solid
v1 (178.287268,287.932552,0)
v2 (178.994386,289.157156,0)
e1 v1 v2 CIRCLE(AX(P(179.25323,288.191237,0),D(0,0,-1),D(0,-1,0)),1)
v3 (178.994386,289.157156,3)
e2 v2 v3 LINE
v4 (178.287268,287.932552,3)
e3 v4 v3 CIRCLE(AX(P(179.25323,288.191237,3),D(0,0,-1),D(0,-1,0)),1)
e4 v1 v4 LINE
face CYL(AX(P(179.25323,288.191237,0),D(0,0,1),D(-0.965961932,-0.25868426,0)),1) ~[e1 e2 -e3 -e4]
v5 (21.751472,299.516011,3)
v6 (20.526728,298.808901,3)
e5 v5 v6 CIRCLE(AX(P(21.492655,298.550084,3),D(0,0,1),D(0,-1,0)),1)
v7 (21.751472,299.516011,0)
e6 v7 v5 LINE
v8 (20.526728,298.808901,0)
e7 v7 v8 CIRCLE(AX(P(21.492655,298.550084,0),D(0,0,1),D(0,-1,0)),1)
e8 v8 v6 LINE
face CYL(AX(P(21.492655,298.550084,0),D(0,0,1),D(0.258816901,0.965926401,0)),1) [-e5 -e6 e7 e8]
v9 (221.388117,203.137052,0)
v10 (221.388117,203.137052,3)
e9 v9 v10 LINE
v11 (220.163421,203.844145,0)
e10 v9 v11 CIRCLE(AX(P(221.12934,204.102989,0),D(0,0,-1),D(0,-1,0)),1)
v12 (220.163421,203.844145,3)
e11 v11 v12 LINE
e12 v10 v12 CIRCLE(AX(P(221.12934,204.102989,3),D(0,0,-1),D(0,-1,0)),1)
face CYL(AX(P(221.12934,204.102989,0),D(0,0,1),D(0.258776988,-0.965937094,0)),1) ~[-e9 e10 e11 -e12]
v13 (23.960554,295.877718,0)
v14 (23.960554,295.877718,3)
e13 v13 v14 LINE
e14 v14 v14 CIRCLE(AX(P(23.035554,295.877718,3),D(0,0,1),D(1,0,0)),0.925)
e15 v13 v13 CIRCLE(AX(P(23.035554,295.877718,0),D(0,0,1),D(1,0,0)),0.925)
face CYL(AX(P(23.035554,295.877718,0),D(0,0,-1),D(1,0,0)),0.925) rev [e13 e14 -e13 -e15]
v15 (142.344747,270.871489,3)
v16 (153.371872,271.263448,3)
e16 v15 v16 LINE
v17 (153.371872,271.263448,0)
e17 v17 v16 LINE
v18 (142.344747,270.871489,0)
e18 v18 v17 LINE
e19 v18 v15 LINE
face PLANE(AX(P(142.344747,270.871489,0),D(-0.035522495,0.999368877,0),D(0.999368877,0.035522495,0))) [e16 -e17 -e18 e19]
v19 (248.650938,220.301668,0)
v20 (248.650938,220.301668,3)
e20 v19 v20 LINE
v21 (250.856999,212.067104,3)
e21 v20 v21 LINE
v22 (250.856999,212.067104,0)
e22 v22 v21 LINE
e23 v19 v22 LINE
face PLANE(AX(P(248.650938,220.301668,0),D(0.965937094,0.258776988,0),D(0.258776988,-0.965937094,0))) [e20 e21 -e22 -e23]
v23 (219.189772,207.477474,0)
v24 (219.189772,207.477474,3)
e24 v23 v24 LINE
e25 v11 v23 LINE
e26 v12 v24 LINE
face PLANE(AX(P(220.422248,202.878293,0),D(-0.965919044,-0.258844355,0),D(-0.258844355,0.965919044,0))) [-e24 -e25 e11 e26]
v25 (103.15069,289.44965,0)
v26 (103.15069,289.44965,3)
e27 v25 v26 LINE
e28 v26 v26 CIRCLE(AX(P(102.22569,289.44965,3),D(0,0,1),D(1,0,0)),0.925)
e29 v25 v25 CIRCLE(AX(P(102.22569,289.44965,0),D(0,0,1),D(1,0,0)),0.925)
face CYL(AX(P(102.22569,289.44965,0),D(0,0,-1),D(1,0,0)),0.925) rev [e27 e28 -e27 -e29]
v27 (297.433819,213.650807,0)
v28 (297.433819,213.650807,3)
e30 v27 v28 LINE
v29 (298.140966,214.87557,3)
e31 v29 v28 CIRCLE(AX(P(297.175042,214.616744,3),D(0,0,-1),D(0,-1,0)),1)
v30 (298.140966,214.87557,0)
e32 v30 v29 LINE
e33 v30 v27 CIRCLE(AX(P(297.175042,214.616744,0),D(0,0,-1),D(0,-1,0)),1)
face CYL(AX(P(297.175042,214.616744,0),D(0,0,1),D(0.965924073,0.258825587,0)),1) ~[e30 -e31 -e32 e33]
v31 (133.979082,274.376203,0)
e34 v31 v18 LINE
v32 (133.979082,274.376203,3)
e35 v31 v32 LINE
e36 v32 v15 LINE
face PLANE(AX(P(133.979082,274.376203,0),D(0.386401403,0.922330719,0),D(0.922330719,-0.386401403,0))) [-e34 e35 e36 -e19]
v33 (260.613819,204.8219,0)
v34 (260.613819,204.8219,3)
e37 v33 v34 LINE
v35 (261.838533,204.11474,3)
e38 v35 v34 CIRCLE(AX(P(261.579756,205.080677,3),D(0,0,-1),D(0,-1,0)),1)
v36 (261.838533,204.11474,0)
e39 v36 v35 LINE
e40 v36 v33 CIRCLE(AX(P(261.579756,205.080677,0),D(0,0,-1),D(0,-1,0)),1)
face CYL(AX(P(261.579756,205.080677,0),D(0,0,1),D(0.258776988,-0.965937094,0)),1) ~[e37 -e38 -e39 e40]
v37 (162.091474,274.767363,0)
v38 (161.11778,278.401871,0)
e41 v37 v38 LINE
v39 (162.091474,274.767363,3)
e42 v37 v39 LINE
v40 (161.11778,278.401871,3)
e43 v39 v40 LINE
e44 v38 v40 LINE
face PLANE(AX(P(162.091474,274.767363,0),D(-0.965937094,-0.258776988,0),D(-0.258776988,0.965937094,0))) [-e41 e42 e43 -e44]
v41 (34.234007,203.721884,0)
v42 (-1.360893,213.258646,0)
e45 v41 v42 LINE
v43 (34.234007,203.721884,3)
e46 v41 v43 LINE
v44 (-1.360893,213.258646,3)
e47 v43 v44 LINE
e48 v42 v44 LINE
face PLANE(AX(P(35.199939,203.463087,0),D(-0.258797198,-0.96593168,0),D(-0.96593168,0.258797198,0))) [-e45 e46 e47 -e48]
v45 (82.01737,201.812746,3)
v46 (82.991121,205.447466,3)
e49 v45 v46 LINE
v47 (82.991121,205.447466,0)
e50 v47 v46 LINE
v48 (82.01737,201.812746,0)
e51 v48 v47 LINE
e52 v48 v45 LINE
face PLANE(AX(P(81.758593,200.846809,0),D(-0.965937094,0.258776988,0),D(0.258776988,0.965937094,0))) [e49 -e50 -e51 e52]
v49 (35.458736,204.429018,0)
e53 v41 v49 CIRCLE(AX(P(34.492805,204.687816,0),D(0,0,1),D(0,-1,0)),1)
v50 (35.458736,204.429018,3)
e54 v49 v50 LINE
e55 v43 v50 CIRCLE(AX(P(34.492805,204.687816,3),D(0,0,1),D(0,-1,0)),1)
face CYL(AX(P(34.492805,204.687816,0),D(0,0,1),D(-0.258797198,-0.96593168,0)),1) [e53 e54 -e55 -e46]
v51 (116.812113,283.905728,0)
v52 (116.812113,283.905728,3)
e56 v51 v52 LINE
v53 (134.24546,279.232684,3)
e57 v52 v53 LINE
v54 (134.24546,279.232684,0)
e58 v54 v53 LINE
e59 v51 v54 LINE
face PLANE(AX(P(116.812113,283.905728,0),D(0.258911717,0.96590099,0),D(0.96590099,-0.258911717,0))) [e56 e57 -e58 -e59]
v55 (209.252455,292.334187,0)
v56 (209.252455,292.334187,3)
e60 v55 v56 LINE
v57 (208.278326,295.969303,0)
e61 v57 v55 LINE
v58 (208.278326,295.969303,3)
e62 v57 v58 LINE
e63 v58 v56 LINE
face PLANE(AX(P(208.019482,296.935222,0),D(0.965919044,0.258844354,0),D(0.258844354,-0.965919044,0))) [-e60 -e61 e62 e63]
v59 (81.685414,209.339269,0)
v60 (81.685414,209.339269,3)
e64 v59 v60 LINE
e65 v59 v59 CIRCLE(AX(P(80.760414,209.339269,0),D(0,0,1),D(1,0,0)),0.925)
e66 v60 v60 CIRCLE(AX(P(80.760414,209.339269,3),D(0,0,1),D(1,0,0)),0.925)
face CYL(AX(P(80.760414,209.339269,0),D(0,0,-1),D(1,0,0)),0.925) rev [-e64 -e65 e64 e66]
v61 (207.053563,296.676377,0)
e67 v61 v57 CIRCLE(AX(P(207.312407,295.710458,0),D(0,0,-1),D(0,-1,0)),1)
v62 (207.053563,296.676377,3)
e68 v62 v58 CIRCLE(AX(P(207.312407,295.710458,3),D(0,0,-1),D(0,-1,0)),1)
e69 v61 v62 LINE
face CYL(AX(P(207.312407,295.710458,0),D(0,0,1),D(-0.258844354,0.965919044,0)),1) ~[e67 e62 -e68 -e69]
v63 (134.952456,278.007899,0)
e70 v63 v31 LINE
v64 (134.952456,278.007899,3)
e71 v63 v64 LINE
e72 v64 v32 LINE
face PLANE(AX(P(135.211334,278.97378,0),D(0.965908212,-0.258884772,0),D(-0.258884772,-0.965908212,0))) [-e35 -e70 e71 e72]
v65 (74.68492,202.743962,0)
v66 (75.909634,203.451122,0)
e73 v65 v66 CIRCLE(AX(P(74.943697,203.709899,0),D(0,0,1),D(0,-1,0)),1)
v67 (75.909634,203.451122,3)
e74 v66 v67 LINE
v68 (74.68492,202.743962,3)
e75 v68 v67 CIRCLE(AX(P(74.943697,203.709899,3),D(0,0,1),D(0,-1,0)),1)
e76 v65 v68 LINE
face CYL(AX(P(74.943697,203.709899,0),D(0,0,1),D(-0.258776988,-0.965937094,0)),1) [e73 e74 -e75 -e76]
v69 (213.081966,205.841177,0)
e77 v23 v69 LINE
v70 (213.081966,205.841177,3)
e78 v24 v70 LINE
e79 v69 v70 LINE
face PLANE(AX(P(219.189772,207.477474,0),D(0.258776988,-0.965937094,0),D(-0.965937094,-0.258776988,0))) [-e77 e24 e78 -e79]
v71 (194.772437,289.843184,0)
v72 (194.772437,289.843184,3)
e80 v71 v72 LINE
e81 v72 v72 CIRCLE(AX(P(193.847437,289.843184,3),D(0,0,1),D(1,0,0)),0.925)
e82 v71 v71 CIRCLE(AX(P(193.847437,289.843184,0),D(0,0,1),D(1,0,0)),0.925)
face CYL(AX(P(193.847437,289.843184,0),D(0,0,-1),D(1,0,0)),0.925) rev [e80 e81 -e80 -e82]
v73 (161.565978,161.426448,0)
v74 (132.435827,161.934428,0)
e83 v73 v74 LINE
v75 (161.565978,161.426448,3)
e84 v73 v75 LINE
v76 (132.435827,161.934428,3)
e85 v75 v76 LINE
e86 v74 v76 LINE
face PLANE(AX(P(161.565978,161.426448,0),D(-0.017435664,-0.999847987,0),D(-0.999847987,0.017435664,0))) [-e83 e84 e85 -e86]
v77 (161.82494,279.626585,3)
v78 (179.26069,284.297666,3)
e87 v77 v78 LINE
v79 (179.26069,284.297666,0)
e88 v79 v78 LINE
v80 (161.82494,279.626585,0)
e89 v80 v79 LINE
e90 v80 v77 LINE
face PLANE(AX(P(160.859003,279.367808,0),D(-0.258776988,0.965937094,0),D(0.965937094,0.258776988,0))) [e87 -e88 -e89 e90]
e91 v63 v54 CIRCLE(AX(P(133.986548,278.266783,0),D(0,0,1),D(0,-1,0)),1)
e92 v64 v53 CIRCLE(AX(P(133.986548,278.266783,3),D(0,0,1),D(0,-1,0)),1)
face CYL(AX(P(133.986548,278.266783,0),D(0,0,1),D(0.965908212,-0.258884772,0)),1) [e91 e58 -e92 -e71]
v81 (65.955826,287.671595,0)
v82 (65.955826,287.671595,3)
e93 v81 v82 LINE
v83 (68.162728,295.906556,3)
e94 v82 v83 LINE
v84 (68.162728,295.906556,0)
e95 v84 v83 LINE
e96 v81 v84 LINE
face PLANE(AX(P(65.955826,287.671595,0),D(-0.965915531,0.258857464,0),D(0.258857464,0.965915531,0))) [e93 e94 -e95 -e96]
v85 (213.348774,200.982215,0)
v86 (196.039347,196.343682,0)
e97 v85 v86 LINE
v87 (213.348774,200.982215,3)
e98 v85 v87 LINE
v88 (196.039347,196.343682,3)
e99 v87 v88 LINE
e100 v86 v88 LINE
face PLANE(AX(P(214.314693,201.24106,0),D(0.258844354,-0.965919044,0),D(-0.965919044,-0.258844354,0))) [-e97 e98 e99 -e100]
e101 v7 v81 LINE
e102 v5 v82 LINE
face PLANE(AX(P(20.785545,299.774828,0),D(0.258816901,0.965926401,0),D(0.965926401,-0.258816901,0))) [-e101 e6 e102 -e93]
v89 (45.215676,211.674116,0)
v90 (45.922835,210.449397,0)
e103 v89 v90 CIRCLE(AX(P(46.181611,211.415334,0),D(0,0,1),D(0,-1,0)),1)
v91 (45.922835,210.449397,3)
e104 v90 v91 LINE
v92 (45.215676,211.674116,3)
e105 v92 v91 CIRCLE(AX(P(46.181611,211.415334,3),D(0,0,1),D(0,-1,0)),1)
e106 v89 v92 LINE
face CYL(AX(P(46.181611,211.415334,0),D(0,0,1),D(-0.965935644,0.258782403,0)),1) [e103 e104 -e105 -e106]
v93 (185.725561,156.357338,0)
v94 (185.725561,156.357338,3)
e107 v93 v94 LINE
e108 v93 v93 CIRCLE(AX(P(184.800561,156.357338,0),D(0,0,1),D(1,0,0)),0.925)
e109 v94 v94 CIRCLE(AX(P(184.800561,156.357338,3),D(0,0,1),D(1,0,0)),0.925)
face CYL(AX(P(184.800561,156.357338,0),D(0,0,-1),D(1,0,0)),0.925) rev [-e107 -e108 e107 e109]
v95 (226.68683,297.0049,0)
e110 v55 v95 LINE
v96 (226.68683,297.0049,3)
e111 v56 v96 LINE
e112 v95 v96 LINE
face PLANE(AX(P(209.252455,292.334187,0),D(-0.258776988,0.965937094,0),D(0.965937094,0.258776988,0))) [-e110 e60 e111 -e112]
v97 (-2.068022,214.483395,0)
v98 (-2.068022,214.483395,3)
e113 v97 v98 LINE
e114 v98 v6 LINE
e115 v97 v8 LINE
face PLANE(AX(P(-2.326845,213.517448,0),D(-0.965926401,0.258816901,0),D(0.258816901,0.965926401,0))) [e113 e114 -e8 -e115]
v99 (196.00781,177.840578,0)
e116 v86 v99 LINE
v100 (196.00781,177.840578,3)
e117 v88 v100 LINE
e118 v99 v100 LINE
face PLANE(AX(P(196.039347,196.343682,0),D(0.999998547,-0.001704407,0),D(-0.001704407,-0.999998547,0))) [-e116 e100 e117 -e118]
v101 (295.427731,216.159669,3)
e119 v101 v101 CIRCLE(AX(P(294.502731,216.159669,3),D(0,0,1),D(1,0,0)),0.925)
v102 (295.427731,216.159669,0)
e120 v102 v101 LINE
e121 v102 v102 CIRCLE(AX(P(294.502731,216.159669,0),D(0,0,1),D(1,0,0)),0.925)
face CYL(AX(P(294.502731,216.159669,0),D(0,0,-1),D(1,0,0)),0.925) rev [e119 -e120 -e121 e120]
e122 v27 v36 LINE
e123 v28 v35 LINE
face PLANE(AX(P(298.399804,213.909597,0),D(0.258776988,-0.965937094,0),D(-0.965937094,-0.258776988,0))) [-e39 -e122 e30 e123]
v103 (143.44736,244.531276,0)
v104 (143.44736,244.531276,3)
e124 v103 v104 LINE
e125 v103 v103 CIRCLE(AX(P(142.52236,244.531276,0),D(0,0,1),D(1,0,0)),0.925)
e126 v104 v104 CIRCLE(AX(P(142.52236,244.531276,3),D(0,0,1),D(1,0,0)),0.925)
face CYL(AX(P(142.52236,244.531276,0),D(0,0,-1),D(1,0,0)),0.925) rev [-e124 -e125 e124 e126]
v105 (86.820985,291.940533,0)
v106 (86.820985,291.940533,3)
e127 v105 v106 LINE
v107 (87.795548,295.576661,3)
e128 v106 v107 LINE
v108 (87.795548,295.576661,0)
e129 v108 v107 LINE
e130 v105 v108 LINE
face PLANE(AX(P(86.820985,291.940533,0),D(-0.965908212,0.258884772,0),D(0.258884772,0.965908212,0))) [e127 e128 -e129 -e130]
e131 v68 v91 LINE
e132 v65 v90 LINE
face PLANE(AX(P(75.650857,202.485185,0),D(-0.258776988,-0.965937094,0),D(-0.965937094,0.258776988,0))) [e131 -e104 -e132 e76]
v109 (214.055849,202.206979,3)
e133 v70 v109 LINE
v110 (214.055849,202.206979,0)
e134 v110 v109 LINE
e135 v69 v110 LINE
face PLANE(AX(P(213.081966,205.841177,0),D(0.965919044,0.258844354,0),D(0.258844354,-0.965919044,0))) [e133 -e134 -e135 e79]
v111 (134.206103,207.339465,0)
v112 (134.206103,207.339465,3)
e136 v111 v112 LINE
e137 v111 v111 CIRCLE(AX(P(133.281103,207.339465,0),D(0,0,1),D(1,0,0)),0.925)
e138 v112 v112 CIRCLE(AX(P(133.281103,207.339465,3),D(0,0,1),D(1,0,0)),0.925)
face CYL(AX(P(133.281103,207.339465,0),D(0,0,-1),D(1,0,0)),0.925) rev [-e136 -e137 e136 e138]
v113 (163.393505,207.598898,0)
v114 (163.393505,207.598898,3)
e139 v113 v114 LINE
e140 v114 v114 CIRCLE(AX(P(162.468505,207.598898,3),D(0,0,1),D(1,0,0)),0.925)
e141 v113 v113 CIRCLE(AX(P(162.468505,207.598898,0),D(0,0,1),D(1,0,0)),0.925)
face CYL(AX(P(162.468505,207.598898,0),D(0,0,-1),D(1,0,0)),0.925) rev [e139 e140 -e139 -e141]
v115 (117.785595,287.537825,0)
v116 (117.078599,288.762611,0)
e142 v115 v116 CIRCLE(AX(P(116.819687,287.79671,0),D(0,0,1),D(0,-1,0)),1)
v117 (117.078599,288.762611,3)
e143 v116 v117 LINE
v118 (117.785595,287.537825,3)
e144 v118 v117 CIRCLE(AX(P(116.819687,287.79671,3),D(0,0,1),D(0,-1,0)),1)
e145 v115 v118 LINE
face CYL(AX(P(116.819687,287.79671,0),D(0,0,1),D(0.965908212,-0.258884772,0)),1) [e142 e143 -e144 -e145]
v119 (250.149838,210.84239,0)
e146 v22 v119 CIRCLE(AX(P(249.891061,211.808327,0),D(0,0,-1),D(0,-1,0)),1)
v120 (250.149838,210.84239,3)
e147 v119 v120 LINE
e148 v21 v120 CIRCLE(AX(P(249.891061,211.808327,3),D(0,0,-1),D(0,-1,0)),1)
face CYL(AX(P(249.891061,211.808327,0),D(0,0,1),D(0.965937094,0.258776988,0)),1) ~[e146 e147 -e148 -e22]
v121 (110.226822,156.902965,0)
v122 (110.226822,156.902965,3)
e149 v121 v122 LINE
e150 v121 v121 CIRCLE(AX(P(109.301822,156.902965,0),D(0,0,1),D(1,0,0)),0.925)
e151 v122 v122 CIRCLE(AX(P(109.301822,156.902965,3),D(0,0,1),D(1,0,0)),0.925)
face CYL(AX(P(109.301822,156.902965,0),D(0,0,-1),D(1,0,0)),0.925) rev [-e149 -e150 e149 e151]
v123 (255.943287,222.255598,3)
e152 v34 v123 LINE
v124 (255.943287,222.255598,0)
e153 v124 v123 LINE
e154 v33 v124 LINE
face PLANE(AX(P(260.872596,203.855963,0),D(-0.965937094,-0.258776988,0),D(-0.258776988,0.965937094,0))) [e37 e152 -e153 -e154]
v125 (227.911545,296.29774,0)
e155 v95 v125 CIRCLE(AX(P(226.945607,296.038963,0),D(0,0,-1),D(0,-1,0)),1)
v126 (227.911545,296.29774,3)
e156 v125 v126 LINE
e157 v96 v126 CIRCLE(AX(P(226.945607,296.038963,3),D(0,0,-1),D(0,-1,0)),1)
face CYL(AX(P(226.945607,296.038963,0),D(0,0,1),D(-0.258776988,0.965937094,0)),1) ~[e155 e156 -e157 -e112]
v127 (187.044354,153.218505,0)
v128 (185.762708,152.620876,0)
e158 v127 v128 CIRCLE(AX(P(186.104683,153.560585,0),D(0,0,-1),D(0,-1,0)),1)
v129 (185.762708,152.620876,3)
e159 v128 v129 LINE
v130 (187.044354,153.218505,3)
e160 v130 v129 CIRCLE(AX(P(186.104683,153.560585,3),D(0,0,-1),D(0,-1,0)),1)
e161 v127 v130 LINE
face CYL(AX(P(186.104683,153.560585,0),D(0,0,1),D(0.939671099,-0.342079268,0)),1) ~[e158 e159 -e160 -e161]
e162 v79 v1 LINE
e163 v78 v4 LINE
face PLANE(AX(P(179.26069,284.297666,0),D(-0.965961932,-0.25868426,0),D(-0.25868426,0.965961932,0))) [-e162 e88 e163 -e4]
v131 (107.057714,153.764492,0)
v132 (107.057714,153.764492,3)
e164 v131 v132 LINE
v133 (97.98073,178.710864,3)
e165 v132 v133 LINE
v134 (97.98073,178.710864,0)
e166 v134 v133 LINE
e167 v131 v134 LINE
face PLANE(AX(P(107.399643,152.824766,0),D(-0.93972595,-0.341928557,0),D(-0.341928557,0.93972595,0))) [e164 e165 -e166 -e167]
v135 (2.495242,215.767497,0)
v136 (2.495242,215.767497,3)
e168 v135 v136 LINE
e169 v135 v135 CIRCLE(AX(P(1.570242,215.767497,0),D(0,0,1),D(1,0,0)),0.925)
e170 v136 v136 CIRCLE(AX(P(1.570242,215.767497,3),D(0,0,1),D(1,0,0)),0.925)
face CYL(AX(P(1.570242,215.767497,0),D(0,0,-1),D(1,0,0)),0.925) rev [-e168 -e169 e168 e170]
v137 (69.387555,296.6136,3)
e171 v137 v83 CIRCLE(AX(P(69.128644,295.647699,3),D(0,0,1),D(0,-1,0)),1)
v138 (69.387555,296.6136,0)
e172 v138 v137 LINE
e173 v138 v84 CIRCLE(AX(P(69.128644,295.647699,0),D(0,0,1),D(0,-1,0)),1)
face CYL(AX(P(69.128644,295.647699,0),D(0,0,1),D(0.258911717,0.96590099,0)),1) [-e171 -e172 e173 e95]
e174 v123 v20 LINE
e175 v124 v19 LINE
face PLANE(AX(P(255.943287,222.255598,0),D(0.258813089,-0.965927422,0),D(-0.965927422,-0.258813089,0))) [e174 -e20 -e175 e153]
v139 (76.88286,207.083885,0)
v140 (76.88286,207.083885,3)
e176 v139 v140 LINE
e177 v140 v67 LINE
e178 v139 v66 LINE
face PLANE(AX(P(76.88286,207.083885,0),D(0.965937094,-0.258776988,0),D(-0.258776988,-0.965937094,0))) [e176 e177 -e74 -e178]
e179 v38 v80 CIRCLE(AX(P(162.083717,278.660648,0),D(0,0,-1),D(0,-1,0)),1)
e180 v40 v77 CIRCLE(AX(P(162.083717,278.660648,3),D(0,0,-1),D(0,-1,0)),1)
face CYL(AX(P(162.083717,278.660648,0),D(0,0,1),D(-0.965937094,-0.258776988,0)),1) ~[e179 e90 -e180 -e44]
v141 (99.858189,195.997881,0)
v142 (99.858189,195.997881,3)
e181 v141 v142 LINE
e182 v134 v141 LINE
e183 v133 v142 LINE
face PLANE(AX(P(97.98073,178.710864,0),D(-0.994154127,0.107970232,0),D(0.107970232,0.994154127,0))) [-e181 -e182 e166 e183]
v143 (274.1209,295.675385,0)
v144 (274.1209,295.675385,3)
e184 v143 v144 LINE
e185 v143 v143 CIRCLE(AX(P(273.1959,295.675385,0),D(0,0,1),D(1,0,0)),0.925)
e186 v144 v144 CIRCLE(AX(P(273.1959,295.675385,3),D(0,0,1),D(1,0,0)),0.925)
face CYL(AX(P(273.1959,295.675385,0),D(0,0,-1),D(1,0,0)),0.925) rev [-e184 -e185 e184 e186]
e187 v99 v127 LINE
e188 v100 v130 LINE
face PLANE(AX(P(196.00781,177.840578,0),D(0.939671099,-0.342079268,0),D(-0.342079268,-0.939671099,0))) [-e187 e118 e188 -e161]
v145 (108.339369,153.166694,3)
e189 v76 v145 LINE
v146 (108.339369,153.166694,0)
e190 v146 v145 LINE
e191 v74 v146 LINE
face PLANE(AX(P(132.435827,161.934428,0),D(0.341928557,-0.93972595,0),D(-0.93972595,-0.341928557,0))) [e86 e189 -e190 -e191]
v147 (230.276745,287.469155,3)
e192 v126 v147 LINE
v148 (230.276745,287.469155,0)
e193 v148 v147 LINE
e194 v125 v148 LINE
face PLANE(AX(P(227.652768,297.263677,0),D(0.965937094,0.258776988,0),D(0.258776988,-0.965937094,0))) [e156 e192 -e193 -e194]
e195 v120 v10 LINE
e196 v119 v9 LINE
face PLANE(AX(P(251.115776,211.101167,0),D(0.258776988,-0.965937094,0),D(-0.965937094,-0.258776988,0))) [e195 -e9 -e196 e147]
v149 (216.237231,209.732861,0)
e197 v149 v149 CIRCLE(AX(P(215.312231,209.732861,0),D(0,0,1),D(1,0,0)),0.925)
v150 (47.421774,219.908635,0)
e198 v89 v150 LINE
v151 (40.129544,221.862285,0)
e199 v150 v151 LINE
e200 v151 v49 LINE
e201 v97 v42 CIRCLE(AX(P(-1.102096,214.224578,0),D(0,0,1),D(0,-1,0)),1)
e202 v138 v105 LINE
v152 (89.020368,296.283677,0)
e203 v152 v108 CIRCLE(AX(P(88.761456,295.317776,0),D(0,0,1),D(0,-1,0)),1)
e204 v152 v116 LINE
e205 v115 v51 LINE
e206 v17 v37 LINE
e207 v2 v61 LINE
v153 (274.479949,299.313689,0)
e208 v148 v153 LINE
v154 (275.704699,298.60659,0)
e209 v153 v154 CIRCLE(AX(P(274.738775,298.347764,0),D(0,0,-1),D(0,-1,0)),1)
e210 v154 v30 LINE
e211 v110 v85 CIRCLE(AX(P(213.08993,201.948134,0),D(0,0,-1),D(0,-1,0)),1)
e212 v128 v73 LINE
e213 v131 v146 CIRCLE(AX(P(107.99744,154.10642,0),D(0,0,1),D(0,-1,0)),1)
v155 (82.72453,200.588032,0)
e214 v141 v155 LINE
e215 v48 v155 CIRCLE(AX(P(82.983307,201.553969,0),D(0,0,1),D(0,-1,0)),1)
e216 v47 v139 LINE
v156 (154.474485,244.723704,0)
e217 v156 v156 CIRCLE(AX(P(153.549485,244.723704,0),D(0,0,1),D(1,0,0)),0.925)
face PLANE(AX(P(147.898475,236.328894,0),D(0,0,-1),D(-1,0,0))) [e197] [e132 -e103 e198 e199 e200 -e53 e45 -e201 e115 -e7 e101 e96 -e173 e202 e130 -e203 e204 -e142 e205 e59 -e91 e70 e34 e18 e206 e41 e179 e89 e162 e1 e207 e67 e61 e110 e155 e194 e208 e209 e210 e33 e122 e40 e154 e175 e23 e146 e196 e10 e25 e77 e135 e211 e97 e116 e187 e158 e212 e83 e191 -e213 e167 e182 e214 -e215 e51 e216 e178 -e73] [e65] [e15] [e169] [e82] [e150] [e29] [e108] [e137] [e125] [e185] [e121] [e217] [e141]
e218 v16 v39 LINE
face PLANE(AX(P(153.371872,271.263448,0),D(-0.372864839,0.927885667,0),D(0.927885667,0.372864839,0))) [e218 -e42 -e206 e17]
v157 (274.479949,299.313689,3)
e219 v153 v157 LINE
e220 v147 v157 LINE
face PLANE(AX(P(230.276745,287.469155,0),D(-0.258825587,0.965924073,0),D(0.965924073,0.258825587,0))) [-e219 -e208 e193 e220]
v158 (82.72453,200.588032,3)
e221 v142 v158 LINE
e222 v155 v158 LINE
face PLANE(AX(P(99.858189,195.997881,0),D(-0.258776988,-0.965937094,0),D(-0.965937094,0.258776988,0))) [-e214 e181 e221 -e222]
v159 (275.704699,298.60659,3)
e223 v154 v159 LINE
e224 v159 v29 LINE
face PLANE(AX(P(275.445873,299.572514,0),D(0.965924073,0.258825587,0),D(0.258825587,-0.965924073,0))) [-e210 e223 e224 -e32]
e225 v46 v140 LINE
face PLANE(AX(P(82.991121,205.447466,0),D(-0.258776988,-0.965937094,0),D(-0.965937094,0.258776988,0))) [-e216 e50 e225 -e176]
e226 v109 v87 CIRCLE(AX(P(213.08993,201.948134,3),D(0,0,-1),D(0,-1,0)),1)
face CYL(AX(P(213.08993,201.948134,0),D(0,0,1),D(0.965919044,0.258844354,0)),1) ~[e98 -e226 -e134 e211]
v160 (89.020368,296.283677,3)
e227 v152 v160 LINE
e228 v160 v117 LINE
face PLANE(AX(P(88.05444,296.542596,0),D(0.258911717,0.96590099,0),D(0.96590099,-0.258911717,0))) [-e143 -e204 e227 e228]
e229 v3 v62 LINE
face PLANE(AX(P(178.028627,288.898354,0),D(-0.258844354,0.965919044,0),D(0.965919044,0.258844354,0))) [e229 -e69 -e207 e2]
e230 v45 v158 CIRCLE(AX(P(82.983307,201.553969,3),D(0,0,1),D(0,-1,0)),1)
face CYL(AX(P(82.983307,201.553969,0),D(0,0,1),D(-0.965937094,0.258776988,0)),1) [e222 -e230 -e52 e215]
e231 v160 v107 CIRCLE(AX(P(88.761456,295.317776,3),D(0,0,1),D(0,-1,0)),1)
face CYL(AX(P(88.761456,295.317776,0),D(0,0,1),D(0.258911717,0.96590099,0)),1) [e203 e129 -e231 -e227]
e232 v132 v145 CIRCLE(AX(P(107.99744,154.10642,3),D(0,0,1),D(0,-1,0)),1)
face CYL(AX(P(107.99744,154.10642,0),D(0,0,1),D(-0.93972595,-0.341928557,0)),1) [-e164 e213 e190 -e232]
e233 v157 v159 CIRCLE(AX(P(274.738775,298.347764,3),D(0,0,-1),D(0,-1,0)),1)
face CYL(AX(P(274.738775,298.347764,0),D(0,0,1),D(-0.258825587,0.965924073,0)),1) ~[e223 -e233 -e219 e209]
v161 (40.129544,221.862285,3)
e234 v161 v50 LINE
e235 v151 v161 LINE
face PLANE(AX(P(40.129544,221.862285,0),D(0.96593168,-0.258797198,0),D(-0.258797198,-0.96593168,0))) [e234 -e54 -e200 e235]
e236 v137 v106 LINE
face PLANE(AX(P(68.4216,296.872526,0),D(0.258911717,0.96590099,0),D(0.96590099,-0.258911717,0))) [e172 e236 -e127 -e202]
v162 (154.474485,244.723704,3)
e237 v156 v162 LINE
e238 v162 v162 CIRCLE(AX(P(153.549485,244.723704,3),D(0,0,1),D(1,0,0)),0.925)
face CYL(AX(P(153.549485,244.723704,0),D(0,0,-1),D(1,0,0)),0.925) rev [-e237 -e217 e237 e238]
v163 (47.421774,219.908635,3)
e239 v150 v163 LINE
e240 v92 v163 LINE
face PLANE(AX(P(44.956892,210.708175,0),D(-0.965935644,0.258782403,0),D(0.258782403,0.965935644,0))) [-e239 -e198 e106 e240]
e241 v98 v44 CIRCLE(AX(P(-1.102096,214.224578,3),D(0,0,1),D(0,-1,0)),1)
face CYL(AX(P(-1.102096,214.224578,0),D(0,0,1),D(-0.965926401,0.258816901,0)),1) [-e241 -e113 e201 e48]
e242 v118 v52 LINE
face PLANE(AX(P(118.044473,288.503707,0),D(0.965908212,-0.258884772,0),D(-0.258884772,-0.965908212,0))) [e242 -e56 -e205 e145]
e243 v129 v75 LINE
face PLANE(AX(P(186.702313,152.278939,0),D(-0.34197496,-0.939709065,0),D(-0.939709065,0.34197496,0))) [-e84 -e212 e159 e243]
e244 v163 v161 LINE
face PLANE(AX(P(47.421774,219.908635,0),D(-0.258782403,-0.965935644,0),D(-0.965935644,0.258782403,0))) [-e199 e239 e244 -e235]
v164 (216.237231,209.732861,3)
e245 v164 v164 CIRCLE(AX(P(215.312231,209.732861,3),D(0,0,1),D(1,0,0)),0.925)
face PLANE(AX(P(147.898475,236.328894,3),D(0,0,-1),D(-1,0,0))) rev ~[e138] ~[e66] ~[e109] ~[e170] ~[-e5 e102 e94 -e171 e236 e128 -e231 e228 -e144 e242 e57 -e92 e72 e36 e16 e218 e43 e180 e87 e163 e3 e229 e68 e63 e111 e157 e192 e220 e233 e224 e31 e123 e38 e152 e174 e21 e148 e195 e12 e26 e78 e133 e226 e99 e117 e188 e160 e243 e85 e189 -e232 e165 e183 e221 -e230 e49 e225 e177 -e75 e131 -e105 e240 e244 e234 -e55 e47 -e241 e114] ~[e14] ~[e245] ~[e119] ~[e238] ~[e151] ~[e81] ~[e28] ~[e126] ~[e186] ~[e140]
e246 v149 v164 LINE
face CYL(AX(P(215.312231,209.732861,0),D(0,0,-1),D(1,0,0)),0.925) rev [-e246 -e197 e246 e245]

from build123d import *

# Parameters (mm, degrees)
MODEL_R             = 0.925
BOSS_EXTRUDE1_DEPTH = 3
FILLET1_R           = 1


with BuildPart() as part:
    # Model → Boss-Extrude1 (new body)
    with BuildSketch(Plane.XY):
        Polygon((142.344747242, 270.871489374), (153.37187249, 271.263447748), (162.091473536, 274.767362889), (160.85900272, 279.367807803), (179.260689602, 284.297666211), (178.028627015, 288.898354165), (208.019481767, 296.93522173), (209.252454514, 292.334187025), (227.65276755, 297.263677376), (230.276744897, 287.46915479), (275.445873116, 299.572514112), (298.39980436, 213.909597233), (260.87259576, 203.855963236), (255.943287021, 222.255598366), (248.650938057, 220.301667543), (251.115775513, 211.101166572), (220.422247557, 202.878292884), (219.189771603, 207.477473721), (213.081966369, 205.841177268), (214.314693354, 201.241059665), (196.039346948, 196.343682115), (196.007810089, 177.840578221), (186.702312667, 152.27893851), (161.565977706, 161.426447529), (132.435827139, 161.934428279), (107.399642776, 152.824765622), (97.980730454, 178.710864183), (99.858189105, 195.997881416), (81.758593313, 200.846808858), (82.991121062, 205.447466285), (76.882860045, 207.083884844), (75.650856625, 202.485184579), (44.956891994, 210.708175253), (47.421773629, 219.90863481), (40.129543563, 221.862285479), (35.199939127, 203.463086712), (-2.32684459, 213.517448416), (20.785545351, 299.774827661), (65.955825932, 287.671594898), (68.42160019, 296.872525865), (86.820985153, 291.940533454), (88.054439652, 296.542595671), (118.044472643, 288.503706576), (116.812112756, 283.905728394), (135.211333861, 278.973779905), (133.979081507, 274.376202933), align=None)
        with Locations((23.035554, 295.877718337)):
            Circle(MODEL_R, mode=Mode.SUBTRACT)
        with Locations((109.301822433, 156.902965293)):
            Circle(MODEL_R, mode=Mode.SUBTRACT)
        with Locations((184.800560745, 156.35733766)):
            Circle(MODEL_R, mode=Mode.SUBTRACT)
        with Locations((193.847437398, 289.84318413)):
            Circle(MODEL_R, mode=Mode.SUBTRACT)
        with Locations((102.225689846, 289.449650012)):
            Circle(MODEL_R, mode=Mode.SUBTRACT)
        with Locations((273.195899511, 295.675384555)):
            Circle(MODEL_R, mode=Mode.SUBTRACT)
        with Locations((1.570241786, 215.767496811)):
            Circle(MODEL_R, mode=Mode.SUBTRACT)
        with Locations((294.502731407, 216.159668876)):
            Circle(MODEL_R, mode=Mode.SUBTRACT)
        with Locations((80.760413887, 209.339268578)):
            Circle(MODEL_R, mode=Mode.SUBTRACT)
        with Locations((215.312231294, 209.732861073)):
            Circle(MODEL_R, mode=Mode.SUBTRACT)
        with Locations((133.281102646, 207.339464548)):
            Circle(MODEL_R, mode=Mode.SUBTRACT)
        with Locations((162.46850521, 207.598897954)):
            Circle(MODEL_R, mode=Mode.SUBTRACT)
        with Locations((142.522359716, 244.531276159)):
            Circle(MODEL_R, mode=Mode.SUBTRACT)
        with Locations((153.549484965, 244.723703681)):
            Circle(MODEL_R, mode=Mode.SUBTRACT)
    extrude(amount=BOSS_EXTRUDE1_DEPTH)

    # Fillet1
    fillet1_edges = [part.edges().sort_by_distance(p)[0] for p in [
        (-2.32684459, 213.517448416, 1.5),
        (20.785545351, 299.774827661, 1.5),
        (68.42160019, 296.872525865, 1.5),
        (88.054439652, 296.542595671, 1.5),
        (118.044472643, 288.503706576, 1.5),
        (135.211333861, 278.973779905, 1.5),
        (160.85900272, 279.367807803, 1.5),
        (178.028627015, 288.898354165, 1.5),
        (208.019481767, 296.93522173, 1.5),
        (227.65276755, 297.263677376, 1.5),
        (275.445873116, 299.572514112, 1.5),
        (298.39980436, 213.909597233, 1.5),
        (260.87259576, 203.855963236, 1.5),
        (251.115775513, 211.101166572, 1.5),
        (220.422247557, 202.878292884, 1.5),
        (214.314693354, 201.241059665, 1.5),
        (186.702312667, 152.27893851, 1.5),
        (107.399642776, 152.824765622, 1.5),
        (81.758593313, 200.846808858, 1.5),
        (75.650856625, 202.485184579, 1.5),
        (44.956891994, 210.708175253, 1.5),
        (35.199939127, 203.463086712, 1.5),
    ]]
    fillet(fillet1_edges, radius=FILLET1_R)


solid = part.part
